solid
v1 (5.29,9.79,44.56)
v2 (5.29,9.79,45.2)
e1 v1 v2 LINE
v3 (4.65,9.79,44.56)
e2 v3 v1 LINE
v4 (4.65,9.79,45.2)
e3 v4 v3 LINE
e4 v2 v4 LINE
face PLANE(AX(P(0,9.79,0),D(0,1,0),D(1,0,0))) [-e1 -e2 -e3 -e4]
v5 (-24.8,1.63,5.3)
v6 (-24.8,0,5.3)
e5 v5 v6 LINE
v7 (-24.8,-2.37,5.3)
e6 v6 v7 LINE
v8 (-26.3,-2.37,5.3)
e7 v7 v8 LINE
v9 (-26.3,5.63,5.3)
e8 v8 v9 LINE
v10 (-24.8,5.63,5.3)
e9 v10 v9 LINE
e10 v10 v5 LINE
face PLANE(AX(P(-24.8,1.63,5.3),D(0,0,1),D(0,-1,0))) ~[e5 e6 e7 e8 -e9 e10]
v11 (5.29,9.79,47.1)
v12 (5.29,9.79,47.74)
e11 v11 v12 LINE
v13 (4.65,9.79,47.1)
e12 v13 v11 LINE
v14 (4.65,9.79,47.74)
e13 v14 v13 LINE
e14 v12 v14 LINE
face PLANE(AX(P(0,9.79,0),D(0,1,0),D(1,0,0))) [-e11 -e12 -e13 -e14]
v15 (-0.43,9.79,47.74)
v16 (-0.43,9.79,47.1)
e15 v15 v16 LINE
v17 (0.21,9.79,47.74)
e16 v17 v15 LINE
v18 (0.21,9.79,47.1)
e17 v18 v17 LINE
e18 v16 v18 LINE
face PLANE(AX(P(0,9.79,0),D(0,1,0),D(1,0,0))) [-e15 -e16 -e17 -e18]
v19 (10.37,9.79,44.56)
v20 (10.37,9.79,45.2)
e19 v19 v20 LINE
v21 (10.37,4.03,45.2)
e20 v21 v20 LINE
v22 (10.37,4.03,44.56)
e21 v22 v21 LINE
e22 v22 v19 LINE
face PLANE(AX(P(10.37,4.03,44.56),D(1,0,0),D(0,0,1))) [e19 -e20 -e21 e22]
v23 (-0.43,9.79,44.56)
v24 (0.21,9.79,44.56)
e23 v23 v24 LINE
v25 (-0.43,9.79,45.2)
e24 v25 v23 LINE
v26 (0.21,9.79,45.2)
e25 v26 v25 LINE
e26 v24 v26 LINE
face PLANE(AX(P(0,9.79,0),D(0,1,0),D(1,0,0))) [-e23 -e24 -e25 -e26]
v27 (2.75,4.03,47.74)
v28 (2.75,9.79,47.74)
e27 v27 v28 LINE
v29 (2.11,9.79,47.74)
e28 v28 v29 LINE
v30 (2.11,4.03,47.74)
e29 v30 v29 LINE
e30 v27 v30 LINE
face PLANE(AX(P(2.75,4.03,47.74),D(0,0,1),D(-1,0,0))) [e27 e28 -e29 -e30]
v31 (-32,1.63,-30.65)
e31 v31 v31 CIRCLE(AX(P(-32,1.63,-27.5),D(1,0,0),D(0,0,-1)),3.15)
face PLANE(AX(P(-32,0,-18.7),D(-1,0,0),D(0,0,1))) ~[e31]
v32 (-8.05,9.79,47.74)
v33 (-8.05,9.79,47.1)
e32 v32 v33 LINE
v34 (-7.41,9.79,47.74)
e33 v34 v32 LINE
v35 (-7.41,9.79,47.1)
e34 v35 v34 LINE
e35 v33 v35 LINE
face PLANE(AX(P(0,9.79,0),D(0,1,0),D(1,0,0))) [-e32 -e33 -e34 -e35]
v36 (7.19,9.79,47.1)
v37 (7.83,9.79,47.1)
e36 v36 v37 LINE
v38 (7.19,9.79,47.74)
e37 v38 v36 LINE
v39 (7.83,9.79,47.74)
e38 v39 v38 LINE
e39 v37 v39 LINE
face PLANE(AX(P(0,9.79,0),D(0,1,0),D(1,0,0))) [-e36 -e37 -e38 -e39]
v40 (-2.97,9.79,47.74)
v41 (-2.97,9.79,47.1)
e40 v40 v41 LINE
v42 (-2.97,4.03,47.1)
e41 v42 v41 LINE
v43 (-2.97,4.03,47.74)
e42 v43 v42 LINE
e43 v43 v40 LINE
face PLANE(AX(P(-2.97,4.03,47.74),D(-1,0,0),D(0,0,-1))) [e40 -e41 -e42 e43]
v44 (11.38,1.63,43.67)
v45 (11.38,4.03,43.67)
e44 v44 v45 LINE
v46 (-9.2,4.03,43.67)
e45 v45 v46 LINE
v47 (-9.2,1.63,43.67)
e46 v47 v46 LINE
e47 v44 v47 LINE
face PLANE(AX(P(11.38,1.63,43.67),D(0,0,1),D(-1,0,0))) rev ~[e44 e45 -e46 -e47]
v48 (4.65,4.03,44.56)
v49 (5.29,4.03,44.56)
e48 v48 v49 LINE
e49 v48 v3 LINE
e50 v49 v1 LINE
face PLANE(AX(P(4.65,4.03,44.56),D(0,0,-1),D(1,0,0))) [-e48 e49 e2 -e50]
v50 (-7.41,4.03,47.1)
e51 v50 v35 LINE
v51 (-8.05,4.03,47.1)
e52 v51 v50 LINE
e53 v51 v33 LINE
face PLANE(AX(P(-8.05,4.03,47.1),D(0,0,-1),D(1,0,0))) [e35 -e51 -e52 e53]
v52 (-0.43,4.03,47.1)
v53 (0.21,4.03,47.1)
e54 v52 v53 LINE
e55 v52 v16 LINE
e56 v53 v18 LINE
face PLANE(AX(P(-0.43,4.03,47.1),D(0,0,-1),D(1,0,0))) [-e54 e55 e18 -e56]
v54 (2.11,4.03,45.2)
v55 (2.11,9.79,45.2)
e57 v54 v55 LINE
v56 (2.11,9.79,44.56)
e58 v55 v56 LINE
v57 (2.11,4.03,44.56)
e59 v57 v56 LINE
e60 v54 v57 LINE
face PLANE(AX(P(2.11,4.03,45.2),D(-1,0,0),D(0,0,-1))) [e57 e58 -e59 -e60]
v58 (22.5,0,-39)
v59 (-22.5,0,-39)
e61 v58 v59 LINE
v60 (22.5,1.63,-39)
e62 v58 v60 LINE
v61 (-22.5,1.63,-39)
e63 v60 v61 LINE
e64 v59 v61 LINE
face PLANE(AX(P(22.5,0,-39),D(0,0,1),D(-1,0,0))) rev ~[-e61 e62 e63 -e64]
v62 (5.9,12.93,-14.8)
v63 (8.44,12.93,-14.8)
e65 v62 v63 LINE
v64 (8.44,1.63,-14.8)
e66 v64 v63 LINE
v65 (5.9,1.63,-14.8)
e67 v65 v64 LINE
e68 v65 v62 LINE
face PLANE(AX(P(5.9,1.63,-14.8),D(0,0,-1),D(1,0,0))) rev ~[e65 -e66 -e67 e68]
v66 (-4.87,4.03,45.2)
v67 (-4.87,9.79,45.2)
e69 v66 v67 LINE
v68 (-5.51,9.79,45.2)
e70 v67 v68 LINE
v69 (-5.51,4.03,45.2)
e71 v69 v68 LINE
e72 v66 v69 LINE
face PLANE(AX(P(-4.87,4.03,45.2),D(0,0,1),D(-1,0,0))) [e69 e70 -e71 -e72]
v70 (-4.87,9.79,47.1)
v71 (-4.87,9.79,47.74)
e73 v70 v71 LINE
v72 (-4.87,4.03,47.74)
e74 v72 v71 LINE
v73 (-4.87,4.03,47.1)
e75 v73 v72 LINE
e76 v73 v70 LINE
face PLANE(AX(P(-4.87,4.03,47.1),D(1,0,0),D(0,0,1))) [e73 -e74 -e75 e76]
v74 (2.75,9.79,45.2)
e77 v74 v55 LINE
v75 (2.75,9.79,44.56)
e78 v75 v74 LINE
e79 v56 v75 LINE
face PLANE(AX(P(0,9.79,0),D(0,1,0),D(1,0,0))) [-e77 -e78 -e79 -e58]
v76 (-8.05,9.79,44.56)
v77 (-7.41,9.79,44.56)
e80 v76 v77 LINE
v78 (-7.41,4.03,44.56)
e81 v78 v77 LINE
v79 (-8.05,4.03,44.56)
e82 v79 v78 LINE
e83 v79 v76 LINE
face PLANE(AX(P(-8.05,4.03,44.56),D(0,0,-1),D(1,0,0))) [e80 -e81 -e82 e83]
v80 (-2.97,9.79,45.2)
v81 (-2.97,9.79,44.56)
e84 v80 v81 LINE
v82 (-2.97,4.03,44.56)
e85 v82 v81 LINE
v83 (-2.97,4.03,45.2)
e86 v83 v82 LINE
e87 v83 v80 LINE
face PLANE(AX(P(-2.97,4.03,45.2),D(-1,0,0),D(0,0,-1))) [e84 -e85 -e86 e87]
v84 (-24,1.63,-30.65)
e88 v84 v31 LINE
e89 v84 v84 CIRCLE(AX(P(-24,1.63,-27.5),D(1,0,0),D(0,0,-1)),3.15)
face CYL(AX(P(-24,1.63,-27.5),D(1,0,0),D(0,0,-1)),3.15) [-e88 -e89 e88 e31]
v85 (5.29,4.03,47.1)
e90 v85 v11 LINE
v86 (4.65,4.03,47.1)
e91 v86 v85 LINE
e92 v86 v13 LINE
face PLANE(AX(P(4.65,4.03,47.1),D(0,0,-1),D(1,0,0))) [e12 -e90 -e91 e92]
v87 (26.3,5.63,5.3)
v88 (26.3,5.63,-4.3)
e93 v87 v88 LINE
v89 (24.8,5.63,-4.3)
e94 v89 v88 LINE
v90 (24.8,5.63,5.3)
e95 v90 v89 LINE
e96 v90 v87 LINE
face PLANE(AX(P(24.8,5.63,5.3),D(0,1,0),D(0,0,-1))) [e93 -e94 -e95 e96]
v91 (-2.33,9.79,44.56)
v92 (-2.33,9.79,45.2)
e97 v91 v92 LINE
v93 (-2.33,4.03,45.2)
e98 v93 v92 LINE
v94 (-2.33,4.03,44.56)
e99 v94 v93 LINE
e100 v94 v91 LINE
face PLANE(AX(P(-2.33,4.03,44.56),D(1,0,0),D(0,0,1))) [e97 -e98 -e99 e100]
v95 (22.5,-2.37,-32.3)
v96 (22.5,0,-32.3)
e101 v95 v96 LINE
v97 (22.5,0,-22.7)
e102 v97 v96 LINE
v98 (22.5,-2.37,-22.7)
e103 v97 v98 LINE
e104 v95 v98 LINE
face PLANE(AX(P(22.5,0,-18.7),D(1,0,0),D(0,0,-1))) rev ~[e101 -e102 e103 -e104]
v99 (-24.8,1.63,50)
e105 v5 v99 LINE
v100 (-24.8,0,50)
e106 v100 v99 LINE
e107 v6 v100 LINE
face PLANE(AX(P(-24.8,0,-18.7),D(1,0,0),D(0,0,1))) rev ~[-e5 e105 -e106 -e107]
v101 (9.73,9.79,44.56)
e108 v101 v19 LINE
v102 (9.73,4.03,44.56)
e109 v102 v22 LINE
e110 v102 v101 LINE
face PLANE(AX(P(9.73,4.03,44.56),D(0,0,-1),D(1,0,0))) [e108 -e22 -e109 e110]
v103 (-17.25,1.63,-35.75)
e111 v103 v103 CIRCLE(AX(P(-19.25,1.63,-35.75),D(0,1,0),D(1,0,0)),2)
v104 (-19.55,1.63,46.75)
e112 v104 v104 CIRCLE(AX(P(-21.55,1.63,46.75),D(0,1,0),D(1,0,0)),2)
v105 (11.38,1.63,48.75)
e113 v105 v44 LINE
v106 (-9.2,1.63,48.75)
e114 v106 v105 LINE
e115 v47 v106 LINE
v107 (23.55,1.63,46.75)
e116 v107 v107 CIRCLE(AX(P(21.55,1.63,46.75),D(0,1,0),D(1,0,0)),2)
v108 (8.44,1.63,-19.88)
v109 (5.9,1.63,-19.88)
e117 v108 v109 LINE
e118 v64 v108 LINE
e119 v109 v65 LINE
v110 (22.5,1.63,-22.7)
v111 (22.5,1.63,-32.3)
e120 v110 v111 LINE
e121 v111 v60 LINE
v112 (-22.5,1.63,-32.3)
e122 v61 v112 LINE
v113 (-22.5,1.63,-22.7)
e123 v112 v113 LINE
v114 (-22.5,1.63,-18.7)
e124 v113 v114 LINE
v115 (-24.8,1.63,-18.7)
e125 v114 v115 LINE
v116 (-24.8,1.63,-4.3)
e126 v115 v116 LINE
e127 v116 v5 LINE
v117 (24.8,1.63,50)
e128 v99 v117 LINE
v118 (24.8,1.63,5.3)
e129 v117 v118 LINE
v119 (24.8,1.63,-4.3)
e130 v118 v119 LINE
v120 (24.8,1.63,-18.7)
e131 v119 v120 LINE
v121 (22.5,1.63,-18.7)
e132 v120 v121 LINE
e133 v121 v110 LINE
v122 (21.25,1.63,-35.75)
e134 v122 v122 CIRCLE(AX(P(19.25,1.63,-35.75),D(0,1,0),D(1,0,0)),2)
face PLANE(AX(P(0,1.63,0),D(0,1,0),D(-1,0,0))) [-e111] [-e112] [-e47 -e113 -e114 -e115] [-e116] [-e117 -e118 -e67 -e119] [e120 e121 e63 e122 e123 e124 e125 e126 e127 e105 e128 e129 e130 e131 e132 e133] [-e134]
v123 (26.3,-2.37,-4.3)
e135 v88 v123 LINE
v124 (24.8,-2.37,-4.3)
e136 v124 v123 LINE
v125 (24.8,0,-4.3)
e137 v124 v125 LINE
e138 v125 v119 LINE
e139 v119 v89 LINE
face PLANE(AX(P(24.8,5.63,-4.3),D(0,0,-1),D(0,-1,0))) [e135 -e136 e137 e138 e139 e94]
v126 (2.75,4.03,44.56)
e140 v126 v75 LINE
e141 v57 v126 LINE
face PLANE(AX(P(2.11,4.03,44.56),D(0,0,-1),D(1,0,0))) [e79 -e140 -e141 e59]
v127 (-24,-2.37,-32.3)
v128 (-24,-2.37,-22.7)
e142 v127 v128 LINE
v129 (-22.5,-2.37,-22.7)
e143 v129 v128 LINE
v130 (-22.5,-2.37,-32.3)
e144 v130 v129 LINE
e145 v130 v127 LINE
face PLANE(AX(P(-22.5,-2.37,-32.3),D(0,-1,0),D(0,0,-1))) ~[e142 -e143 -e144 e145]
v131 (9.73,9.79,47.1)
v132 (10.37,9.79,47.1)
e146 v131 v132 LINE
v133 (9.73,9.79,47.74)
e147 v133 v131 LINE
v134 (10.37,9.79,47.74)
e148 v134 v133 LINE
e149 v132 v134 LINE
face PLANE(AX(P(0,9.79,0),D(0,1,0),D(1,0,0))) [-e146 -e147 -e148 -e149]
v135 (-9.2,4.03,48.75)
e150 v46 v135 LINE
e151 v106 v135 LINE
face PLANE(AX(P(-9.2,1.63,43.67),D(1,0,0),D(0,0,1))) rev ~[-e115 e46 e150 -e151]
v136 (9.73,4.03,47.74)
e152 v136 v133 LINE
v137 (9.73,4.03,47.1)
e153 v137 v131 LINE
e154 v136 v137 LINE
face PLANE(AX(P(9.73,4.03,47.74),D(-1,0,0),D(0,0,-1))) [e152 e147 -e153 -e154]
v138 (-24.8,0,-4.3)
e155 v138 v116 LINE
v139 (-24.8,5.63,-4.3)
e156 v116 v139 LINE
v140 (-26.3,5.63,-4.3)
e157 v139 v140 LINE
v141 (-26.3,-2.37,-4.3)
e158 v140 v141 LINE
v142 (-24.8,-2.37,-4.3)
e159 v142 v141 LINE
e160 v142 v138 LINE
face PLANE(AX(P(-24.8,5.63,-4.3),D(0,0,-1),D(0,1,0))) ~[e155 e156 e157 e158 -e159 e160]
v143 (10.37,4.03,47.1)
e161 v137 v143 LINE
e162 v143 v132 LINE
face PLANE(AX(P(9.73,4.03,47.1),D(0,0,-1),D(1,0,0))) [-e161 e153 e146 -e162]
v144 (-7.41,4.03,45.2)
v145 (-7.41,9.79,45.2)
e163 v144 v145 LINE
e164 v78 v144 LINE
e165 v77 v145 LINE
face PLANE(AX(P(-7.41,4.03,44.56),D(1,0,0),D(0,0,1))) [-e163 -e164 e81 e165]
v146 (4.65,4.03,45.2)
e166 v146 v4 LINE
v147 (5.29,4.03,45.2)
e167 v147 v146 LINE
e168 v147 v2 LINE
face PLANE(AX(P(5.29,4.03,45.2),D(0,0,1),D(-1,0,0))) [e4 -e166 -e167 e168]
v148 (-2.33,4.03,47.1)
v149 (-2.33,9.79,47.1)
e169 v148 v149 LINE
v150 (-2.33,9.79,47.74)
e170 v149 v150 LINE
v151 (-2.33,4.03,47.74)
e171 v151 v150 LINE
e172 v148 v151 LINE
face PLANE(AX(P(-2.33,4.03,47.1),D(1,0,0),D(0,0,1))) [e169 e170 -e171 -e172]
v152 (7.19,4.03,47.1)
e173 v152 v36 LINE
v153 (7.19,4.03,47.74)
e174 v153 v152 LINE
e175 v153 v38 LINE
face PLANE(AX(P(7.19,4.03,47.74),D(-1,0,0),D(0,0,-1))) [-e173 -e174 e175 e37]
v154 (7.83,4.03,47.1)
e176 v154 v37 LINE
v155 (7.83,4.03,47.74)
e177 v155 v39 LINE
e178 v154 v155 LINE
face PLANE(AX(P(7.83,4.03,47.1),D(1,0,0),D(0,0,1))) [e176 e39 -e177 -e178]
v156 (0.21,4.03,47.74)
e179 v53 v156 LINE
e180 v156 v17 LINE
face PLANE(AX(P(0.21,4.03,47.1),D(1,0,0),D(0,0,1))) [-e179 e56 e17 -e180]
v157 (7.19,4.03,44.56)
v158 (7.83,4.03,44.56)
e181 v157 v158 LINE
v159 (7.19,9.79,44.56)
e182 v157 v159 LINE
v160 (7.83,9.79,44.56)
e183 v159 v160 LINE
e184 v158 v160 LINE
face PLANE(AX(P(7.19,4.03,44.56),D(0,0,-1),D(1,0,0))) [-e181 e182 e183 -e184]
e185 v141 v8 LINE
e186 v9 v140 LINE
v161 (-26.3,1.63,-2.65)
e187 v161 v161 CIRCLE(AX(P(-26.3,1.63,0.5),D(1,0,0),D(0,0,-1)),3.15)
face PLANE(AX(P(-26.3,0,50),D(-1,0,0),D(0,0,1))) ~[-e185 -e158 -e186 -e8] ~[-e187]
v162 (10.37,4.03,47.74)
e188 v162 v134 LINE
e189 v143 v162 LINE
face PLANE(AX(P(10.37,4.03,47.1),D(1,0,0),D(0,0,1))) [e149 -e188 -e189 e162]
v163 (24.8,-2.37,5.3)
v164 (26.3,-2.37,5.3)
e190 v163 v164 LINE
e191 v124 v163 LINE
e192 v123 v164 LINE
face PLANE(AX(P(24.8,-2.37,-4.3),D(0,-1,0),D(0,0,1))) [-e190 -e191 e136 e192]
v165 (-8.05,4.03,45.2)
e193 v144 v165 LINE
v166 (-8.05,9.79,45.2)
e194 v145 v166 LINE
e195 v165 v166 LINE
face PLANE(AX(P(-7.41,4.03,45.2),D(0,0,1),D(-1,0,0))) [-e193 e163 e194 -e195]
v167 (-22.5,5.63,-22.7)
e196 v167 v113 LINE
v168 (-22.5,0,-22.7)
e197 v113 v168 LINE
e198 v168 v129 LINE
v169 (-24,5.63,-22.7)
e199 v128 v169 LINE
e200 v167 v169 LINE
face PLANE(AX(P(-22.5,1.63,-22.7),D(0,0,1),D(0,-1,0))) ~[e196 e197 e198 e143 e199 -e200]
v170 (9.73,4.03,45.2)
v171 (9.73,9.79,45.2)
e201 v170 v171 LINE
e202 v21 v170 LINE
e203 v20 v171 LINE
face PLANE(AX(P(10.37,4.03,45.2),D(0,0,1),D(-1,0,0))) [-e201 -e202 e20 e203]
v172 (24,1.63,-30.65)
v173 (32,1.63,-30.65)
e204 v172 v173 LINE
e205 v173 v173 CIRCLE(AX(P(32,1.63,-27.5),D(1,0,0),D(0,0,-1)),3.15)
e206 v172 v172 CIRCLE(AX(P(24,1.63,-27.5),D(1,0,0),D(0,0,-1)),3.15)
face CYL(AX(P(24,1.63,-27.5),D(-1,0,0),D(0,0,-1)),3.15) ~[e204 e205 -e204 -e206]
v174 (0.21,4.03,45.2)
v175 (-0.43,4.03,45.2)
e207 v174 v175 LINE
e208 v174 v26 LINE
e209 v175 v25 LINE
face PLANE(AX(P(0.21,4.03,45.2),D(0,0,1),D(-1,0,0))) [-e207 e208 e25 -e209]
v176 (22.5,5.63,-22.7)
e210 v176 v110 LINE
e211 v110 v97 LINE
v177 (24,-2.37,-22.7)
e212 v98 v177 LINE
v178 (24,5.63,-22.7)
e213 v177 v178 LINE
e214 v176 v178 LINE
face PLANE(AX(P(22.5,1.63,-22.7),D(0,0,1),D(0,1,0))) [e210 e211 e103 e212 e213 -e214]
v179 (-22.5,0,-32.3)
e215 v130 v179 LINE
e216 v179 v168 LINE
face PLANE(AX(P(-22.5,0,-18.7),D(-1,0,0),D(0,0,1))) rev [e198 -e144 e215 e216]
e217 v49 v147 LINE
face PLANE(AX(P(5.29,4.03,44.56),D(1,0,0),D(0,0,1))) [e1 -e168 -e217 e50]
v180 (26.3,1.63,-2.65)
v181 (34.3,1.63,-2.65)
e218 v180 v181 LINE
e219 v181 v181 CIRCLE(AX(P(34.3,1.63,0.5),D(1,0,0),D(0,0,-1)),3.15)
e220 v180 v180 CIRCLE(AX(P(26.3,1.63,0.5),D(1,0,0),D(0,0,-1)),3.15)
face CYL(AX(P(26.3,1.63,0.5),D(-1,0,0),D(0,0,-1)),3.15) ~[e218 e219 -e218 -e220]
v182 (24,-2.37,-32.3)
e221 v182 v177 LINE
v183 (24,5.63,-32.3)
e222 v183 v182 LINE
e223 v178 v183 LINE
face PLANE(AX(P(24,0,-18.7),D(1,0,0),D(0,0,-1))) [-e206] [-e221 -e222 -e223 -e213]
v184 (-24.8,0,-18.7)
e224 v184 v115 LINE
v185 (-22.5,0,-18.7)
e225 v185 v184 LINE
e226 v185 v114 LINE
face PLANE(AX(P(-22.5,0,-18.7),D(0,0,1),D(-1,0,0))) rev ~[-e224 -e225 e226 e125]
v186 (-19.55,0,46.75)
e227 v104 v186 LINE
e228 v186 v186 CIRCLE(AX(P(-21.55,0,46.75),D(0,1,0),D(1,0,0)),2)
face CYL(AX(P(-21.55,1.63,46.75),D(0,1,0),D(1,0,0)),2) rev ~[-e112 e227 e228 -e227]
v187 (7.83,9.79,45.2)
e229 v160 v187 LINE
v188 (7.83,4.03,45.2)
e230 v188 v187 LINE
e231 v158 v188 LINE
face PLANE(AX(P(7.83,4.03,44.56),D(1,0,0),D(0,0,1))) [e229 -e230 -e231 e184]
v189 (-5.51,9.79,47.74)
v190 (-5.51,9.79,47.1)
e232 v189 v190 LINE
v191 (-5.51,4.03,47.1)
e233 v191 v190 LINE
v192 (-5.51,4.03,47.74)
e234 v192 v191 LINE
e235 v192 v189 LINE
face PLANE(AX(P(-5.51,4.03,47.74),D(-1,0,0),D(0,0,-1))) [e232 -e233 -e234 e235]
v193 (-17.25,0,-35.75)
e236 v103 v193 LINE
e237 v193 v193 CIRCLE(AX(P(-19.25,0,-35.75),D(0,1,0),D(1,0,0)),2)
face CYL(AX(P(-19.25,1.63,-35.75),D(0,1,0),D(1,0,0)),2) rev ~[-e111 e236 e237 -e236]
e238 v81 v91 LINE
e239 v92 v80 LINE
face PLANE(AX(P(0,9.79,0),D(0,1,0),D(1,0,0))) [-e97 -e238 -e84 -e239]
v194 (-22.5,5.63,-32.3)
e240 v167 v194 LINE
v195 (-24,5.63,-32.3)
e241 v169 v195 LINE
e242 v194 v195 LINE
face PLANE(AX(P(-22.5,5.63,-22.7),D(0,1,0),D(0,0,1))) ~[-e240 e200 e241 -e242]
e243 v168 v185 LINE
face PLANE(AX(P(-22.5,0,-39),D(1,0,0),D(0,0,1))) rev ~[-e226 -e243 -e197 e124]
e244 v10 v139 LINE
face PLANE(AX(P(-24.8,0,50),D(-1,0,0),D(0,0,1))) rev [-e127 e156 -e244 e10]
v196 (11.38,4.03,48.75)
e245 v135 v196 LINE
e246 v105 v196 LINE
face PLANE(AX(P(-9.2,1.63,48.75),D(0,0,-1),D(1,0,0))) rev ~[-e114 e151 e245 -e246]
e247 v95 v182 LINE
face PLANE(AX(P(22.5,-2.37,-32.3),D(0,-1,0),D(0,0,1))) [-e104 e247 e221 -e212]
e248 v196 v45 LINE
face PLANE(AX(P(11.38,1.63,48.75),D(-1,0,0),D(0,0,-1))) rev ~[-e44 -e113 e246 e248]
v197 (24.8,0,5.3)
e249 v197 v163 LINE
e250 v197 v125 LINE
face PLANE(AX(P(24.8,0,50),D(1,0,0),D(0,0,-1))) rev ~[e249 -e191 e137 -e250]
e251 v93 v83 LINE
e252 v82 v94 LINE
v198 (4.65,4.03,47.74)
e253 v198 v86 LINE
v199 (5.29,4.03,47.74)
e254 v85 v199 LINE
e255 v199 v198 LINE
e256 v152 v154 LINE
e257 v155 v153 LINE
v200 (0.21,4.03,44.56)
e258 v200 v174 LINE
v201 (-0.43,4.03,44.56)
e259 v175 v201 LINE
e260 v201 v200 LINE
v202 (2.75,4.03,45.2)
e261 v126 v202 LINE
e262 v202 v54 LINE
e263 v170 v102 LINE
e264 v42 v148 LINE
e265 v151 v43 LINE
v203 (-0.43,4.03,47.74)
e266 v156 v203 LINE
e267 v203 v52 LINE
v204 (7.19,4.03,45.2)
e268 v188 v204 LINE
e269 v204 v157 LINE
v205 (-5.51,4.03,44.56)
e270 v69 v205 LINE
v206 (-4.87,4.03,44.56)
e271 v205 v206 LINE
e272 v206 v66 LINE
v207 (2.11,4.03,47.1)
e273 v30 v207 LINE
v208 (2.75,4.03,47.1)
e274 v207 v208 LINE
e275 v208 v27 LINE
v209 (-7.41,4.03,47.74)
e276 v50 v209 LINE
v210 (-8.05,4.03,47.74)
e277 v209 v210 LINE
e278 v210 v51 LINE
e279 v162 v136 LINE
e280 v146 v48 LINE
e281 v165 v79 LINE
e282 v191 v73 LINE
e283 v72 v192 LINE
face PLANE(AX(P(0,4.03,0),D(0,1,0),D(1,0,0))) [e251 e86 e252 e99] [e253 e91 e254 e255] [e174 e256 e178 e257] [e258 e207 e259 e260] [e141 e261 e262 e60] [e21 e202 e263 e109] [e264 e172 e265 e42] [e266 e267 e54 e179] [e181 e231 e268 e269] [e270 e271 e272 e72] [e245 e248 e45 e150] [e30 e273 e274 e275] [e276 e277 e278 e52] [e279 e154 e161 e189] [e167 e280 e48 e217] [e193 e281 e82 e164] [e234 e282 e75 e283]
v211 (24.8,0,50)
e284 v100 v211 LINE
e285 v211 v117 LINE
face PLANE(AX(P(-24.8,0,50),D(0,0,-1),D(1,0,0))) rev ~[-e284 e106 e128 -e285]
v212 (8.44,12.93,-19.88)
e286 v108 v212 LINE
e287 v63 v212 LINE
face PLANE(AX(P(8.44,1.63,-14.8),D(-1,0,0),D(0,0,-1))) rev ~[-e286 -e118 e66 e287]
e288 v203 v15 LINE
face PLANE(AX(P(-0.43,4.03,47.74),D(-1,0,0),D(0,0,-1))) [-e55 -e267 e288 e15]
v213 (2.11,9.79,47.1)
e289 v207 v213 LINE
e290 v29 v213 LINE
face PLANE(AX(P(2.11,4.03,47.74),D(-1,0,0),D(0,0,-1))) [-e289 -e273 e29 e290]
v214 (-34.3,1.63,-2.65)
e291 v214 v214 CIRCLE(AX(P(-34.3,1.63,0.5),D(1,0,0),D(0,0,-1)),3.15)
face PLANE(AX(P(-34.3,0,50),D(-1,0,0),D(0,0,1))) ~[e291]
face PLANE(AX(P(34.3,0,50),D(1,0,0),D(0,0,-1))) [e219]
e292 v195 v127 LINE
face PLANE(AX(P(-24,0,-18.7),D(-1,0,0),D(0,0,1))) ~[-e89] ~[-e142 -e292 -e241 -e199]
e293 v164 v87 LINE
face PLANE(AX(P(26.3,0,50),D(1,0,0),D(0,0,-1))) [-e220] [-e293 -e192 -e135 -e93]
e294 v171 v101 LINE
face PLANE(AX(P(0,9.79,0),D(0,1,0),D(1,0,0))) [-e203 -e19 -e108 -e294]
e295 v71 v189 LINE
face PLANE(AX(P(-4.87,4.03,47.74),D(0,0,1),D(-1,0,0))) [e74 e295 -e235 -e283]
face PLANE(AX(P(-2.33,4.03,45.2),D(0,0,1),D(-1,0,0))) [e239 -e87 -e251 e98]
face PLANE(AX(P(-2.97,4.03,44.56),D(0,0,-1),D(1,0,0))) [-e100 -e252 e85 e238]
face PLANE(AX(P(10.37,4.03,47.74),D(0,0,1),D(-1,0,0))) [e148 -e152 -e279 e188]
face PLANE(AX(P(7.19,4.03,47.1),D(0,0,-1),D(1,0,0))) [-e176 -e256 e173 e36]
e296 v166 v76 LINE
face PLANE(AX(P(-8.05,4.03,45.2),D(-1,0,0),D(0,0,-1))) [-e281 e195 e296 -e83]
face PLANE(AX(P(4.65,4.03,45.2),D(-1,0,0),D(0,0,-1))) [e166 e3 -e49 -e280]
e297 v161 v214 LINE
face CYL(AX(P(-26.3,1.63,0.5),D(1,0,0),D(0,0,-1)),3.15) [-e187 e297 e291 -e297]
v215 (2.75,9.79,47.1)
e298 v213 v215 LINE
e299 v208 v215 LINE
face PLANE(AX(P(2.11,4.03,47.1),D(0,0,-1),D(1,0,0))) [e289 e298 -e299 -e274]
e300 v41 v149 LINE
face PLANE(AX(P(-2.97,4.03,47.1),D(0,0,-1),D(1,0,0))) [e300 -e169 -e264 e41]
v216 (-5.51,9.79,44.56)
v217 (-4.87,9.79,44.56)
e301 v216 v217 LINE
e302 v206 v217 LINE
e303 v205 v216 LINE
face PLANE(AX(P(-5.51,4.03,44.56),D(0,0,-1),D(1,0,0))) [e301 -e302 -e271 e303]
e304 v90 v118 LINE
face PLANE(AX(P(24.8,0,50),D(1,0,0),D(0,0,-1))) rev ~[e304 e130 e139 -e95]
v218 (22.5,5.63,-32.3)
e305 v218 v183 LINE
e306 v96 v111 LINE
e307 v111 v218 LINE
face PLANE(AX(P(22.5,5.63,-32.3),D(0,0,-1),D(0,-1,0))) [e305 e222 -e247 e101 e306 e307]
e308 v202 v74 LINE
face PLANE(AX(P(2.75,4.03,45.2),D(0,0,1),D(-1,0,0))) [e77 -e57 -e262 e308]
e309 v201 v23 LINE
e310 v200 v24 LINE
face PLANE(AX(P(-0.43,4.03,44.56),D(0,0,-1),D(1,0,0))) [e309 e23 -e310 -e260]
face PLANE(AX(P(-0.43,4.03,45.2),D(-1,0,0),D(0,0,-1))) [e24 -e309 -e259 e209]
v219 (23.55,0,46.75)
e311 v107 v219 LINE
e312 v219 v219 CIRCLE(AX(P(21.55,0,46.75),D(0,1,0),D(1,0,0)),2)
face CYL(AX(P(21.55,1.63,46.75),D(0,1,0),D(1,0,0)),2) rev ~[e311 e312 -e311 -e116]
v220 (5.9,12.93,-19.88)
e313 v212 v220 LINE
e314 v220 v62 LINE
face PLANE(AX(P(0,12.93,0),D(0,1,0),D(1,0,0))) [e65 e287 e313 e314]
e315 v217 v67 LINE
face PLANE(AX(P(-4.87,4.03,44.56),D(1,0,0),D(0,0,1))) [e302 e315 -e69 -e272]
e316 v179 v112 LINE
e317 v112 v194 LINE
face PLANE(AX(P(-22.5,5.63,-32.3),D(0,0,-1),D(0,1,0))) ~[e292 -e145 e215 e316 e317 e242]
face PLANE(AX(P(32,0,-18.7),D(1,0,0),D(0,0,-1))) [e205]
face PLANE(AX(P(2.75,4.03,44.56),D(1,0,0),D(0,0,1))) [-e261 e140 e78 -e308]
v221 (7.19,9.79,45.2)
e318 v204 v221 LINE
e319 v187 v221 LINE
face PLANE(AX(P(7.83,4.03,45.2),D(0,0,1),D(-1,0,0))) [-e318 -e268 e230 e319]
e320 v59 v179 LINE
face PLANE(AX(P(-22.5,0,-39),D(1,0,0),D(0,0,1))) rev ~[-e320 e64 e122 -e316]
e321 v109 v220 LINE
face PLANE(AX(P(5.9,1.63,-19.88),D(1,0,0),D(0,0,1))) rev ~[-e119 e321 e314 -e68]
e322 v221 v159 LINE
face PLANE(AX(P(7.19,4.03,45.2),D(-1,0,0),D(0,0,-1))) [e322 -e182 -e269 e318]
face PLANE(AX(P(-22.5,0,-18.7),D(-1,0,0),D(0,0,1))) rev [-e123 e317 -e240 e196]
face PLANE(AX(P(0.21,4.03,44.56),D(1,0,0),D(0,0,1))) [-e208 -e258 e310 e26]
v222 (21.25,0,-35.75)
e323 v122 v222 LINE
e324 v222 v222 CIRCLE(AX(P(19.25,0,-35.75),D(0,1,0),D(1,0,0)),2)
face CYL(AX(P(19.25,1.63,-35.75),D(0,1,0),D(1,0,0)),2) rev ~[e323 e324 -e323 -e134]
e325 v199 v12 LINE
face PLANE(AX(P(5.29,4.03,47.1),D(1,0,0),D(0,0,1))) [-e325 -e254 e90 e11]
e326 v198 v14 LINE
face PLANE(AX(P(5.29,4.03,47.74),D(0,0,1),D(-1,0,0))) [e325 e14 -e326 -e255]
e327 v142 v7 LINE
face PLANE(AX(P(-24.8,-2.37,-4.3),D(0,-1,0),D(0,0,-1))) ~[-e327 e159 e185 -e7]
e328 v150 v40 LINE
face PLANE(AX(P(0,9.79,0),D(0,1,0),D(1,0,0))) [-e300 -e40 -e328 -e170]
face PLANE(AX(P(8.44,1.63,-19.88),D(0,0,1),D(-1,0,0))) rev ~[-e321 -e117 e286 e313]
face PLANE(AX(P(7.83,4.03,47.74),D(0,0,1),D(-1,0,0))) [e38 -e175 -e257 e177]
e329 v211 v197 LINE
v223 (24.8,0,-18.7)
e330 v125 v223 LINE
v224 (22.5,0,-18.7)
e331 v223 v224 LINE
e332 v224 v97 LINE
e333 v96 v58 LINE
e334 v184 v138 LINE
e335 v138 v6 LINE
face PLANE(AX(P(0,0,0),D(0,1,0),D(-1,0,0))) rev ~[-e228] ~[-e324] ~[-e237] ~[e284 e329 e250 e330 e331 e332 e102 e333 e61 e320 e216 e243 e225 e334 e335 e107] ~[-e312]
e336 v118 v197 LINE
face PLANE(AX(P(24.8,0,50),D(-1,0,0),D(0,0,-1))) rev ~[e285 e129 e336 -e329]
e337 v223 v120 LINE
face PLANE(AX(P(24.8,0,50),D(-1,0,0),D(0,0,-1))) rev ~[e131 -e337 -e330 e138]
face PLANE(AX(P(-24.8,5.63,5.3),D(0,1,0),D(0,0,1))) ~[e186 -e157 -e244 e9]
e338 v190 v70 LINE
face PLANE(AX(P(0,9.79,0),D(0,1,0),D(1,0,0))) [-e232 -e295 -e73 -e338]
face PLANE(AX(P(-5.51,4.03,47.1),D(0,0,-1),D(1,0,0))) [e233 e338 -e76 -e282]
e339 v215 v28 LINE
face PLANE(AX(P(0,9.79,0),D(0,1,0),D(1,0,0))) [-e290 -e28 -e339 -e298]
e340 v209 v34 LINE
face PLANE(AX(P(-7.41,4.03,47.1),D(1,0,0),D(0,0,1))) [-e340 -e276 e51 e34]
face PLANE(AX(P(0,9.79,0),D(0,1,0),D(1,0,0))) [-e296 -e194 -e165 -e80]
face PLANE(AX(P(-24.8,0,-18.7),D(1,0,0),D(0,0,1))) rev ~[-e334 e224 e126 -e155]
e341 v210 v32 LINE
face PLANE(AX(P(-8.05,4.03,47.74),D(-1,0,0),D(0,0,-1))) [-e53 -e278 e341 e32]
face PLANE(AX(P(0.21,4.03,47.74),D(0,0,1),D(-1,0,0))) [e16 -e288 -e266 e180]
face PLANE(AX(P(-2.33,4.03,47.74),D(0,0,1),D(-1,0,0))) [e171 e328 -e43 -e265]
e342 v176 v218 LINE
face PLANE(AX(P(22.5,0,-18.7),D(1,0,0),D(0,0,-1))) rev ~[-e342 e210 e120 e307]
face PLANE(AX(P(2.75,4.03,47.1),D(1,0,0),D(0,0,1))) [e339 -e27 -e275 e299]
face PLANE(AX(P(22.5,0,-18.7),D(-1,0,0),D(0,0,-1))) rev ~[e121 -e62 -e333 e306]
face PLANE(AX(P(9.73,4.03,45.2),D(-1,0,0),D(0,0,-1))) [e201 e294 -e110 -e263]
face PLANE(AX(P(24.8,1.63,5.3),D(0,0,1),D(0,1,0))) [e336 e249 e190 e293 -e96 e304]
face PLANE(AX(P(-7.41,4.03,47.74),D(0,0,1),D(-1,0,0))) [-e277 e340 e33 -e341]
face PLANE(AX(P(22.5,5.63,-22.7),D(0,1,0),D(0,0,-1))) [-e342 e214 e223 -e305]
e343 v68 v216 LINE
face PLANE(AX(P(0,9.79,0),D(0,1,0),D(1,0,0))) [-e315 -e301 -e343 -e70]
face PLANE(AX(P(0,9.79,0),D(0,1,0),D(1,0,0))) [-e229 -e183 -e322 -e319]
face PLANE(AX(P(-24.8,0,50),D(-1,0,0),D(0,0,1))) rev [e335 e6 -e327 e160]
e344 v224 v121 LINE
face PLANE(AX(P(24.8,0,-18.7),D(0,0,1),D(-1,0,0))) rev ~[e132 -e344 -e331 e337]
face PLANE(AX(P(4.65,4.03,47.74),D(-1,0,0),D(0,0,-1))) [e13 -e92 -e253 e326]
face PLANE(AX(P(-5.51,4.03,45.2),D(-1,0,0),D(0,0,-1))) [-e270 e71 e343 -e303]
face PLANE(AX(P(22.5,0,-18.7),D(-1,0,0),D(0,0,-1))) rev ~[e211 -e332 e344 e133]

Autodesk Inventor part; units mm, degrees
ref_plane "YZ Plane" through (0, 0, 0) normal (1, 0, 0) x (0, 1, 0)
ref_plane "XZ Plane" through (0, 0, 0) normal (0, 1, 0) x (-1, 0, 0)
ref_plane "XY Plane" through (0, 0, 0) normal (0, 0, 1) x (1, 0, 0)
sketch "Sketch1" plane through (0, 0, 0) normal (0, 1, 0) x (-1, 0, 0)
  line L0 (24.8, -18.7) -> (24.8, 50)
  line L1 (24.8, 50) -> (-24.8, 50)
  line L2 (-24.8, 50) -> (-24.8, -18.7)
  line L3 (-24.8, -18.7) -> (-22.5, -18.7)
  line L4 (-22.5, -18.7) -> (-22.5, -39)
  line L5 (-22.5, -39) -> (22.5, -39)
  line L6 (22.5, -39) -> (22.5, -18.7)
  line L7 (22.5, -18.7) -> (24.8, -18.7)
  line L8 (0, 42.3382) -> (0, -37.7046) construction
  point P0 (0, 0)
  dimension "d0" = 49.6
  dimension "d1" = 45
  dimension "d2" = 89
  dimension "d3" = 68.7
  dimension "d4" = 50
extrude "Extrusion1" add sketch "Sketch1" along normal blind 1.63
sketch "Sketch2" plane through (0, 1.63, 0) normal (0, 1, 0) x (1, 0, 0)
  circle A0 centre (-21.55, -46.75) radius 2
  circle A1 centre (21.55, -46.75) radius 2
  circle A2 centre (19.25, 35.75) radius 2
  circle A3 centre (-19.25, 35.75) radius 2
  line L0 (-24.8, 18.7) -> (-24.8, -50) projected
  line L1 (-24.8, -50) -> (24.8, -50) projected
  line L2 (22.5, 39) -> (-22.5, 39) projected
  line L3 (22.5, 18.7) -> (22.5, 39) projected
  line L4 (-22.5, 39) -> (-22.5, 18.7) projected
  point P0 (0, 0)
  dimension "d7" = 4
  dimension "d8" = 3.25
  dimension "d9" = 3.25
  dimension "d10" = 3.25
  dimension "d11" = 3.25
  dimension "d12" = 3.25
  dimension "d13" = 3.25
  dimension "d14" = 3.25
  dimension "d15" = 3.25
extrude "Extrusion2" cut sketch "Sketch2" against normal up to next
sketch "Sketch3" plane through (24.8, 0, 50) normal (1, 0, 0) x (0, 0, -1)
  line L0 (44.7, 5.63) -> (54.3, 5.63)
  line L1 (54.3, 5.63) -> (54.3, -2.37)
  line L2 (54.3, -2.37) -> (44.7, -2.37)
  line L3 (44.7, -2.37) -> (44.7, 5.63)
  line L4 (0, 1.63) -> (68.7, 1.63) projected
  line L5 (44.7, 5.63) -> (54.3, -2.37) construction
  line L6 (54.3, 5.63) -> (44.7, -2.37) construction
  line L7 (0, 0) -> (0, 1.63) projected
  point P0 (50, 0)
  point P1 (49.5, 1.63)
  dimension "d18" = 9.6
  dimension "d19" = 8
  dimension "d20" = 49.5
extrude "Extrusion3" add sketch "Sketch3" along normal blind 1.5
sketch "Sketch4" plane through (22.5, 0, -18.7) normal (1, 0, 0) x (0, 0, -1)
  line L0 (4, 5.63) -> (13.6, 5.63)
  line L1 (13.6, 5.63) -> (13.6, -2.37)
  line L2 (13.6, -2.37) -> (4, -2.37)
  line L3 (4, -2.37) -> (4, 5.63)
  line L4 (20.3, 1.63) -> (0, 1.63) projected
  line L5 (4, 5.63) -> (13.6, -2.37) construction
  line L6 (13.6, 5.63) -> (4, -2.37) construction
  point P0 (-18.7, 0)
  point P1 (8.8, 1.63)
  dimension "d23" = 9.6
  dimension "d24" = 8
  dimension "d25" = 11.5
extrude "Extrusion4" add sketch "Sketch4" along normal blind 1.5
sketch "Sketch5" plane through (26.3, 0, 50) normal (1, 0, 0) x (0, 0, -1)
  line L0 (44.7, 5.63) -> (54.3, 5.63) construction
  line L1 (49.5, 5.63) -> (49.5, -2.37) construction
  line L2 (54.3, -2.37) -> (44.7, -2.37) construction
  line L3 (44.7, 1.63) -> (54.3, 1.63) construction
  line L4 (44.7, 1.63) -> (54.3, 1.63) construction
  circle A0 centre (49.5, 1.63) radius 3.15
  point P0 (50, 0)
  dimension "d28" = 6.3
sketch "Sketch6" plane through (24, 0, -18.7) normal (1, 0, 0) x (0, 0, -1)
  line L0 (13.6, 5.63) -> (4, 5.63) construction
  line L1 (8.8, 5.63) -> (8.8, -2.37) construction
  line L2 (4, -2.37) -> (13.6, -2.37) construction
  line L3 (13.6, -2.37) -> (13.6, 5.63) construction
  line L4 (4, 0) -> (4, 1.63) construction
  line L5 (13.6, 1.63) -> (4, 1.63) construction
  circle A0 centre (8.8, 1.63) radius 3.15
  point P0 (-18.7, 0)
  dimension "d29" = 6.3
extrude "Extrusion5" add sketch "Sketch6" along normal blind 8
extrude "Extrusion6" add sketch "Sketch5" along normal blind 8
mirror "Mirror1" about plane through (0, 0, 0) normal (1, 0, 0) of "Extrusion5", "Extrusion6", "Extrusion4", "Extrusion3"
sketch "Sketch7" plane through (0, 1.63, 0) normal (0, 1, 0) x (1, 0, 0)
  line L0 (-9.2, -48.75) -> (11.38, -48.75)
  line L1 (11.38, -48.75) -> (11.38, -43.67)
  line L2 (11.38, -43.67) -> (-9.2, -43.67)
  line L3 (-9.2, -43.67) -> (-9.2, -48.75)
  line L4 (-9.2, -48.75) -> (11.38, -43.67) construction
  line L5 (11.38, -48.75) -> (-9.2, -43.67) construction
  line L6 (-24.8, -50) -> (24.8, -50) projected
  line L7 (24.8, -50) -> (24.8, -5.3) projected
  line L8 (-24.8, -5.3) -> (-24.8, -50) projected
  point P0 (0, 0)
  point P1 (1.09, -46.21)
  dimension "d34" = 20.58
  dimension "d35" = 5.08
  dimension "d36" = 1.25
  dimension "d38" = 15.6
extrude "Extrusion7" add sketch "Sketch7" along normal blind 2.4
sketch "Sketch8" plane through (0, 4.03, 0) normal (0, 1, 0) x (1, 0, 0)
  line L0 (10.37, -47.74) -> (9.73, -47.74)
  line L1 (9.73, -47.74) -> (9.73, -47.1)
  line L2 (9.73, -47.1) -> (10.37, -47.1)
  line L3 (10.37, -47.1) -> (10.37, -47.74)
  line L4 (10.37, -47.74) -> (9.73, -47.1) construction
  line L5 (9.73, -47.74) -> (10.37, -47.1) construction
  line L6 (11.38, -48.75) -> (11.38, -43.67) projected
  line L7 (-9.2, -48.75) -> (11.38, -48.75) projected
  line L8 (7.19, -47.74) -> (7.19, -47.1)
  line L9 (7.83, -47.74) -> (7.19, -47.74)
  line L10 (7.83, -47.1) -> (7.83, -47.74)
  line L11 (7.19, -47.1) -> (7.83, -47.1)
  line L12 (4.65, -47.74) -> (4.65, -47.1)
  line L13 (5.29, -47.74) -> (4.65, -47.74)
  line L14 (5.29, -47.1) -> (5.29, -47.74)
  line L15 (4.65, -47.1) -> (5.29, -47.1)
  line L16 (2.11, -47.74) -> (2.11, -47.1)
  line L17 (2.75, -47.74) -> (2.11, -47.74)
  line L18 (2.75, -47.1) -> (2.75, -47.74)
  line L19 (2.11, -47.1) -> (2.75, -47.1)
  line L20 (-0.43, -47.74) -> (-0.43, -47.1)
  line L21 (0.21, -47.74) -> (-0.43, -47.74)
  line L22 (0.21, -47.1) -> (0.21, -47.74)
  line L23 (-0.43, -47.1) -> (0.21, -47.1)
  line L24 (-2.97, -47.74) -> (-2.97, -47.1)
  line L25 (-2.33, -47.74) -> (-2.97, -47.74)
  line L26 (-2.33, -47.1) -> (-2.33, -47.74)
  line L27 (-2.97, -47.1) -> (-2.33, -47.1)
  line L28 (-5.51, -47.74) -> (-5.51, -47.1)
  line L29 (-4.87, -47.74) -> (-5.51, -47.74)
  line L30 (-4.87, -47.1) -> (-4.87, -47.74)
  line L31 (-5.51, -47.1) -> (-4.87, -47.1)
  line L32 (-8.05, -47.74) -> (-8.05, -47.1)
  line L33 (-7.41, -47.74) -> (-8.05, -47.74)
  line L34 (-7.41, -47.1) -> (-7.41, -47.74)
  line L35 (-8.05, -47.1) -> (-7.41, -47.1)
  line L36 (9.73, -45.2) -> (9.73, -44.56)
  line L37 (10.37, -45.2) -> (9.73, -45.2)
  line L38 (10.37, -44.56) -> (10.37, -45.2)
  line L39 (9.73, -44.56) -> (10.37, -44.56)
  line L40 (7.19, -45.2) -> (7.19, -44.56)
  line L41 (7.83, -45.2) -> (7.19, -45.2)
  line L42 (7.83, -44.56) -> (7.83, -45.2)
  line L43 (7.19, -44.56) -> (7.83, -44.56)
  line L44 (4.65, -45.2) -> (4.65, -44.56)
  line L45 (5.29, -45.2) -> (4.65, -45.2)
  line L46 (5.29, -44.56) -> (5.29, -45.2)
  line L47 (4.65, -44.56) -> (5.29, -44.56)
  line L48 (2.11, -45.2) -> (2.11, -44.56)
  line L49 (2.75, -45.2) -> (2.11, -45.2)
  line L50 (2.75, -44.56) -> (2.75, -45.2)
  line L51 (2.11, -44.56) -> (2.75, -44.56)
  line L52 (-0.43, -45.2) -> (-0.43, -44.56)
  line L53 (0.21, -45.2) -> (-0.43, -45.2)
  line L54 (0.21, -44.56) -> (0.21, -45.2)
  line L55 (-0.43, -44.56) -> (0.21, -44.56)
  line L56 (-2.97, -45.2) -> (-2.97, -44.56)
  line L57 (-2.33, -45.2) -> (-2.97, -45.2)
  line L58 (-2.33, -44.56) -> (-2.33, -45.2)
  line L59 (-2.97, -44.56) -> (-2.33, -44.56)
  line L60 (-5.51, -45.2) -> (-5.51, -44.56)
  line L61 (-4.87, -45.2) -> (-5.51, -45.2)
  line L62 (-4.87, -44.56) -> (-4.87, -45.2)
  line L63 (-5.51, -44.56) -> (-4.87, -44.56)
  line L64 (-8.05, -45.2) -> (-8.05, -44.56)
  line L65 (-7.41, -45.2) -> (-8.05, -45.2)
  line L66 (-7.41, -44.56) -> (-7.41, -45.2)
  line L67 (-8.05, -44.56) -> (-7.41, -44.56)
  point P0 (0, 0)
  point P1 (10.05, -47.42)
  dimension "d41" = 0.64
  dimension "d42" = 1.65
  dimension "d43" = 1.65
  dimension "d46" = 2.54
  dimension "d49" = 2.54
extrude "Extrusion8" add sketch "Sketch8" along normal blind 5.76
sketch "Sketch9" plane through (0, 1.63, 0) normal (0, 1, 0) x (1, 0, 0)
  line L0 (5.9, 14.8) -> (8.44, 14.8)
  line L1 (8.44, 14.8) -> (8.44, 19.88)
  line L2 (8.44, 19.88) -> (5.9, 19.88)
  line L3 (5.9, 19.88) -> (5.9, 14.8)
  line L4 (5.9, 14.8) -> (8.44, 19.88) construction
  line L5 (8.44, 14.8) -> (5.9, 19.88) construction
  line L6 (22.5, 18.7) -> (22.5, 22.7) projected
  line L7 (22.5, 39) -> (-22.5, 39) projected
  point P0 (0, 0)
  point P1 (7.17, 17.34)
  dimension "d54" = 5.08
  dimension "d55" = 2.54
  dimension "d56" = 16.6
  dimension "d57" = 24.2
extrude "Extrusion9" add sketch "Sketch9" along normal blind 11.3
properties part number "PE-43120-EVB"
